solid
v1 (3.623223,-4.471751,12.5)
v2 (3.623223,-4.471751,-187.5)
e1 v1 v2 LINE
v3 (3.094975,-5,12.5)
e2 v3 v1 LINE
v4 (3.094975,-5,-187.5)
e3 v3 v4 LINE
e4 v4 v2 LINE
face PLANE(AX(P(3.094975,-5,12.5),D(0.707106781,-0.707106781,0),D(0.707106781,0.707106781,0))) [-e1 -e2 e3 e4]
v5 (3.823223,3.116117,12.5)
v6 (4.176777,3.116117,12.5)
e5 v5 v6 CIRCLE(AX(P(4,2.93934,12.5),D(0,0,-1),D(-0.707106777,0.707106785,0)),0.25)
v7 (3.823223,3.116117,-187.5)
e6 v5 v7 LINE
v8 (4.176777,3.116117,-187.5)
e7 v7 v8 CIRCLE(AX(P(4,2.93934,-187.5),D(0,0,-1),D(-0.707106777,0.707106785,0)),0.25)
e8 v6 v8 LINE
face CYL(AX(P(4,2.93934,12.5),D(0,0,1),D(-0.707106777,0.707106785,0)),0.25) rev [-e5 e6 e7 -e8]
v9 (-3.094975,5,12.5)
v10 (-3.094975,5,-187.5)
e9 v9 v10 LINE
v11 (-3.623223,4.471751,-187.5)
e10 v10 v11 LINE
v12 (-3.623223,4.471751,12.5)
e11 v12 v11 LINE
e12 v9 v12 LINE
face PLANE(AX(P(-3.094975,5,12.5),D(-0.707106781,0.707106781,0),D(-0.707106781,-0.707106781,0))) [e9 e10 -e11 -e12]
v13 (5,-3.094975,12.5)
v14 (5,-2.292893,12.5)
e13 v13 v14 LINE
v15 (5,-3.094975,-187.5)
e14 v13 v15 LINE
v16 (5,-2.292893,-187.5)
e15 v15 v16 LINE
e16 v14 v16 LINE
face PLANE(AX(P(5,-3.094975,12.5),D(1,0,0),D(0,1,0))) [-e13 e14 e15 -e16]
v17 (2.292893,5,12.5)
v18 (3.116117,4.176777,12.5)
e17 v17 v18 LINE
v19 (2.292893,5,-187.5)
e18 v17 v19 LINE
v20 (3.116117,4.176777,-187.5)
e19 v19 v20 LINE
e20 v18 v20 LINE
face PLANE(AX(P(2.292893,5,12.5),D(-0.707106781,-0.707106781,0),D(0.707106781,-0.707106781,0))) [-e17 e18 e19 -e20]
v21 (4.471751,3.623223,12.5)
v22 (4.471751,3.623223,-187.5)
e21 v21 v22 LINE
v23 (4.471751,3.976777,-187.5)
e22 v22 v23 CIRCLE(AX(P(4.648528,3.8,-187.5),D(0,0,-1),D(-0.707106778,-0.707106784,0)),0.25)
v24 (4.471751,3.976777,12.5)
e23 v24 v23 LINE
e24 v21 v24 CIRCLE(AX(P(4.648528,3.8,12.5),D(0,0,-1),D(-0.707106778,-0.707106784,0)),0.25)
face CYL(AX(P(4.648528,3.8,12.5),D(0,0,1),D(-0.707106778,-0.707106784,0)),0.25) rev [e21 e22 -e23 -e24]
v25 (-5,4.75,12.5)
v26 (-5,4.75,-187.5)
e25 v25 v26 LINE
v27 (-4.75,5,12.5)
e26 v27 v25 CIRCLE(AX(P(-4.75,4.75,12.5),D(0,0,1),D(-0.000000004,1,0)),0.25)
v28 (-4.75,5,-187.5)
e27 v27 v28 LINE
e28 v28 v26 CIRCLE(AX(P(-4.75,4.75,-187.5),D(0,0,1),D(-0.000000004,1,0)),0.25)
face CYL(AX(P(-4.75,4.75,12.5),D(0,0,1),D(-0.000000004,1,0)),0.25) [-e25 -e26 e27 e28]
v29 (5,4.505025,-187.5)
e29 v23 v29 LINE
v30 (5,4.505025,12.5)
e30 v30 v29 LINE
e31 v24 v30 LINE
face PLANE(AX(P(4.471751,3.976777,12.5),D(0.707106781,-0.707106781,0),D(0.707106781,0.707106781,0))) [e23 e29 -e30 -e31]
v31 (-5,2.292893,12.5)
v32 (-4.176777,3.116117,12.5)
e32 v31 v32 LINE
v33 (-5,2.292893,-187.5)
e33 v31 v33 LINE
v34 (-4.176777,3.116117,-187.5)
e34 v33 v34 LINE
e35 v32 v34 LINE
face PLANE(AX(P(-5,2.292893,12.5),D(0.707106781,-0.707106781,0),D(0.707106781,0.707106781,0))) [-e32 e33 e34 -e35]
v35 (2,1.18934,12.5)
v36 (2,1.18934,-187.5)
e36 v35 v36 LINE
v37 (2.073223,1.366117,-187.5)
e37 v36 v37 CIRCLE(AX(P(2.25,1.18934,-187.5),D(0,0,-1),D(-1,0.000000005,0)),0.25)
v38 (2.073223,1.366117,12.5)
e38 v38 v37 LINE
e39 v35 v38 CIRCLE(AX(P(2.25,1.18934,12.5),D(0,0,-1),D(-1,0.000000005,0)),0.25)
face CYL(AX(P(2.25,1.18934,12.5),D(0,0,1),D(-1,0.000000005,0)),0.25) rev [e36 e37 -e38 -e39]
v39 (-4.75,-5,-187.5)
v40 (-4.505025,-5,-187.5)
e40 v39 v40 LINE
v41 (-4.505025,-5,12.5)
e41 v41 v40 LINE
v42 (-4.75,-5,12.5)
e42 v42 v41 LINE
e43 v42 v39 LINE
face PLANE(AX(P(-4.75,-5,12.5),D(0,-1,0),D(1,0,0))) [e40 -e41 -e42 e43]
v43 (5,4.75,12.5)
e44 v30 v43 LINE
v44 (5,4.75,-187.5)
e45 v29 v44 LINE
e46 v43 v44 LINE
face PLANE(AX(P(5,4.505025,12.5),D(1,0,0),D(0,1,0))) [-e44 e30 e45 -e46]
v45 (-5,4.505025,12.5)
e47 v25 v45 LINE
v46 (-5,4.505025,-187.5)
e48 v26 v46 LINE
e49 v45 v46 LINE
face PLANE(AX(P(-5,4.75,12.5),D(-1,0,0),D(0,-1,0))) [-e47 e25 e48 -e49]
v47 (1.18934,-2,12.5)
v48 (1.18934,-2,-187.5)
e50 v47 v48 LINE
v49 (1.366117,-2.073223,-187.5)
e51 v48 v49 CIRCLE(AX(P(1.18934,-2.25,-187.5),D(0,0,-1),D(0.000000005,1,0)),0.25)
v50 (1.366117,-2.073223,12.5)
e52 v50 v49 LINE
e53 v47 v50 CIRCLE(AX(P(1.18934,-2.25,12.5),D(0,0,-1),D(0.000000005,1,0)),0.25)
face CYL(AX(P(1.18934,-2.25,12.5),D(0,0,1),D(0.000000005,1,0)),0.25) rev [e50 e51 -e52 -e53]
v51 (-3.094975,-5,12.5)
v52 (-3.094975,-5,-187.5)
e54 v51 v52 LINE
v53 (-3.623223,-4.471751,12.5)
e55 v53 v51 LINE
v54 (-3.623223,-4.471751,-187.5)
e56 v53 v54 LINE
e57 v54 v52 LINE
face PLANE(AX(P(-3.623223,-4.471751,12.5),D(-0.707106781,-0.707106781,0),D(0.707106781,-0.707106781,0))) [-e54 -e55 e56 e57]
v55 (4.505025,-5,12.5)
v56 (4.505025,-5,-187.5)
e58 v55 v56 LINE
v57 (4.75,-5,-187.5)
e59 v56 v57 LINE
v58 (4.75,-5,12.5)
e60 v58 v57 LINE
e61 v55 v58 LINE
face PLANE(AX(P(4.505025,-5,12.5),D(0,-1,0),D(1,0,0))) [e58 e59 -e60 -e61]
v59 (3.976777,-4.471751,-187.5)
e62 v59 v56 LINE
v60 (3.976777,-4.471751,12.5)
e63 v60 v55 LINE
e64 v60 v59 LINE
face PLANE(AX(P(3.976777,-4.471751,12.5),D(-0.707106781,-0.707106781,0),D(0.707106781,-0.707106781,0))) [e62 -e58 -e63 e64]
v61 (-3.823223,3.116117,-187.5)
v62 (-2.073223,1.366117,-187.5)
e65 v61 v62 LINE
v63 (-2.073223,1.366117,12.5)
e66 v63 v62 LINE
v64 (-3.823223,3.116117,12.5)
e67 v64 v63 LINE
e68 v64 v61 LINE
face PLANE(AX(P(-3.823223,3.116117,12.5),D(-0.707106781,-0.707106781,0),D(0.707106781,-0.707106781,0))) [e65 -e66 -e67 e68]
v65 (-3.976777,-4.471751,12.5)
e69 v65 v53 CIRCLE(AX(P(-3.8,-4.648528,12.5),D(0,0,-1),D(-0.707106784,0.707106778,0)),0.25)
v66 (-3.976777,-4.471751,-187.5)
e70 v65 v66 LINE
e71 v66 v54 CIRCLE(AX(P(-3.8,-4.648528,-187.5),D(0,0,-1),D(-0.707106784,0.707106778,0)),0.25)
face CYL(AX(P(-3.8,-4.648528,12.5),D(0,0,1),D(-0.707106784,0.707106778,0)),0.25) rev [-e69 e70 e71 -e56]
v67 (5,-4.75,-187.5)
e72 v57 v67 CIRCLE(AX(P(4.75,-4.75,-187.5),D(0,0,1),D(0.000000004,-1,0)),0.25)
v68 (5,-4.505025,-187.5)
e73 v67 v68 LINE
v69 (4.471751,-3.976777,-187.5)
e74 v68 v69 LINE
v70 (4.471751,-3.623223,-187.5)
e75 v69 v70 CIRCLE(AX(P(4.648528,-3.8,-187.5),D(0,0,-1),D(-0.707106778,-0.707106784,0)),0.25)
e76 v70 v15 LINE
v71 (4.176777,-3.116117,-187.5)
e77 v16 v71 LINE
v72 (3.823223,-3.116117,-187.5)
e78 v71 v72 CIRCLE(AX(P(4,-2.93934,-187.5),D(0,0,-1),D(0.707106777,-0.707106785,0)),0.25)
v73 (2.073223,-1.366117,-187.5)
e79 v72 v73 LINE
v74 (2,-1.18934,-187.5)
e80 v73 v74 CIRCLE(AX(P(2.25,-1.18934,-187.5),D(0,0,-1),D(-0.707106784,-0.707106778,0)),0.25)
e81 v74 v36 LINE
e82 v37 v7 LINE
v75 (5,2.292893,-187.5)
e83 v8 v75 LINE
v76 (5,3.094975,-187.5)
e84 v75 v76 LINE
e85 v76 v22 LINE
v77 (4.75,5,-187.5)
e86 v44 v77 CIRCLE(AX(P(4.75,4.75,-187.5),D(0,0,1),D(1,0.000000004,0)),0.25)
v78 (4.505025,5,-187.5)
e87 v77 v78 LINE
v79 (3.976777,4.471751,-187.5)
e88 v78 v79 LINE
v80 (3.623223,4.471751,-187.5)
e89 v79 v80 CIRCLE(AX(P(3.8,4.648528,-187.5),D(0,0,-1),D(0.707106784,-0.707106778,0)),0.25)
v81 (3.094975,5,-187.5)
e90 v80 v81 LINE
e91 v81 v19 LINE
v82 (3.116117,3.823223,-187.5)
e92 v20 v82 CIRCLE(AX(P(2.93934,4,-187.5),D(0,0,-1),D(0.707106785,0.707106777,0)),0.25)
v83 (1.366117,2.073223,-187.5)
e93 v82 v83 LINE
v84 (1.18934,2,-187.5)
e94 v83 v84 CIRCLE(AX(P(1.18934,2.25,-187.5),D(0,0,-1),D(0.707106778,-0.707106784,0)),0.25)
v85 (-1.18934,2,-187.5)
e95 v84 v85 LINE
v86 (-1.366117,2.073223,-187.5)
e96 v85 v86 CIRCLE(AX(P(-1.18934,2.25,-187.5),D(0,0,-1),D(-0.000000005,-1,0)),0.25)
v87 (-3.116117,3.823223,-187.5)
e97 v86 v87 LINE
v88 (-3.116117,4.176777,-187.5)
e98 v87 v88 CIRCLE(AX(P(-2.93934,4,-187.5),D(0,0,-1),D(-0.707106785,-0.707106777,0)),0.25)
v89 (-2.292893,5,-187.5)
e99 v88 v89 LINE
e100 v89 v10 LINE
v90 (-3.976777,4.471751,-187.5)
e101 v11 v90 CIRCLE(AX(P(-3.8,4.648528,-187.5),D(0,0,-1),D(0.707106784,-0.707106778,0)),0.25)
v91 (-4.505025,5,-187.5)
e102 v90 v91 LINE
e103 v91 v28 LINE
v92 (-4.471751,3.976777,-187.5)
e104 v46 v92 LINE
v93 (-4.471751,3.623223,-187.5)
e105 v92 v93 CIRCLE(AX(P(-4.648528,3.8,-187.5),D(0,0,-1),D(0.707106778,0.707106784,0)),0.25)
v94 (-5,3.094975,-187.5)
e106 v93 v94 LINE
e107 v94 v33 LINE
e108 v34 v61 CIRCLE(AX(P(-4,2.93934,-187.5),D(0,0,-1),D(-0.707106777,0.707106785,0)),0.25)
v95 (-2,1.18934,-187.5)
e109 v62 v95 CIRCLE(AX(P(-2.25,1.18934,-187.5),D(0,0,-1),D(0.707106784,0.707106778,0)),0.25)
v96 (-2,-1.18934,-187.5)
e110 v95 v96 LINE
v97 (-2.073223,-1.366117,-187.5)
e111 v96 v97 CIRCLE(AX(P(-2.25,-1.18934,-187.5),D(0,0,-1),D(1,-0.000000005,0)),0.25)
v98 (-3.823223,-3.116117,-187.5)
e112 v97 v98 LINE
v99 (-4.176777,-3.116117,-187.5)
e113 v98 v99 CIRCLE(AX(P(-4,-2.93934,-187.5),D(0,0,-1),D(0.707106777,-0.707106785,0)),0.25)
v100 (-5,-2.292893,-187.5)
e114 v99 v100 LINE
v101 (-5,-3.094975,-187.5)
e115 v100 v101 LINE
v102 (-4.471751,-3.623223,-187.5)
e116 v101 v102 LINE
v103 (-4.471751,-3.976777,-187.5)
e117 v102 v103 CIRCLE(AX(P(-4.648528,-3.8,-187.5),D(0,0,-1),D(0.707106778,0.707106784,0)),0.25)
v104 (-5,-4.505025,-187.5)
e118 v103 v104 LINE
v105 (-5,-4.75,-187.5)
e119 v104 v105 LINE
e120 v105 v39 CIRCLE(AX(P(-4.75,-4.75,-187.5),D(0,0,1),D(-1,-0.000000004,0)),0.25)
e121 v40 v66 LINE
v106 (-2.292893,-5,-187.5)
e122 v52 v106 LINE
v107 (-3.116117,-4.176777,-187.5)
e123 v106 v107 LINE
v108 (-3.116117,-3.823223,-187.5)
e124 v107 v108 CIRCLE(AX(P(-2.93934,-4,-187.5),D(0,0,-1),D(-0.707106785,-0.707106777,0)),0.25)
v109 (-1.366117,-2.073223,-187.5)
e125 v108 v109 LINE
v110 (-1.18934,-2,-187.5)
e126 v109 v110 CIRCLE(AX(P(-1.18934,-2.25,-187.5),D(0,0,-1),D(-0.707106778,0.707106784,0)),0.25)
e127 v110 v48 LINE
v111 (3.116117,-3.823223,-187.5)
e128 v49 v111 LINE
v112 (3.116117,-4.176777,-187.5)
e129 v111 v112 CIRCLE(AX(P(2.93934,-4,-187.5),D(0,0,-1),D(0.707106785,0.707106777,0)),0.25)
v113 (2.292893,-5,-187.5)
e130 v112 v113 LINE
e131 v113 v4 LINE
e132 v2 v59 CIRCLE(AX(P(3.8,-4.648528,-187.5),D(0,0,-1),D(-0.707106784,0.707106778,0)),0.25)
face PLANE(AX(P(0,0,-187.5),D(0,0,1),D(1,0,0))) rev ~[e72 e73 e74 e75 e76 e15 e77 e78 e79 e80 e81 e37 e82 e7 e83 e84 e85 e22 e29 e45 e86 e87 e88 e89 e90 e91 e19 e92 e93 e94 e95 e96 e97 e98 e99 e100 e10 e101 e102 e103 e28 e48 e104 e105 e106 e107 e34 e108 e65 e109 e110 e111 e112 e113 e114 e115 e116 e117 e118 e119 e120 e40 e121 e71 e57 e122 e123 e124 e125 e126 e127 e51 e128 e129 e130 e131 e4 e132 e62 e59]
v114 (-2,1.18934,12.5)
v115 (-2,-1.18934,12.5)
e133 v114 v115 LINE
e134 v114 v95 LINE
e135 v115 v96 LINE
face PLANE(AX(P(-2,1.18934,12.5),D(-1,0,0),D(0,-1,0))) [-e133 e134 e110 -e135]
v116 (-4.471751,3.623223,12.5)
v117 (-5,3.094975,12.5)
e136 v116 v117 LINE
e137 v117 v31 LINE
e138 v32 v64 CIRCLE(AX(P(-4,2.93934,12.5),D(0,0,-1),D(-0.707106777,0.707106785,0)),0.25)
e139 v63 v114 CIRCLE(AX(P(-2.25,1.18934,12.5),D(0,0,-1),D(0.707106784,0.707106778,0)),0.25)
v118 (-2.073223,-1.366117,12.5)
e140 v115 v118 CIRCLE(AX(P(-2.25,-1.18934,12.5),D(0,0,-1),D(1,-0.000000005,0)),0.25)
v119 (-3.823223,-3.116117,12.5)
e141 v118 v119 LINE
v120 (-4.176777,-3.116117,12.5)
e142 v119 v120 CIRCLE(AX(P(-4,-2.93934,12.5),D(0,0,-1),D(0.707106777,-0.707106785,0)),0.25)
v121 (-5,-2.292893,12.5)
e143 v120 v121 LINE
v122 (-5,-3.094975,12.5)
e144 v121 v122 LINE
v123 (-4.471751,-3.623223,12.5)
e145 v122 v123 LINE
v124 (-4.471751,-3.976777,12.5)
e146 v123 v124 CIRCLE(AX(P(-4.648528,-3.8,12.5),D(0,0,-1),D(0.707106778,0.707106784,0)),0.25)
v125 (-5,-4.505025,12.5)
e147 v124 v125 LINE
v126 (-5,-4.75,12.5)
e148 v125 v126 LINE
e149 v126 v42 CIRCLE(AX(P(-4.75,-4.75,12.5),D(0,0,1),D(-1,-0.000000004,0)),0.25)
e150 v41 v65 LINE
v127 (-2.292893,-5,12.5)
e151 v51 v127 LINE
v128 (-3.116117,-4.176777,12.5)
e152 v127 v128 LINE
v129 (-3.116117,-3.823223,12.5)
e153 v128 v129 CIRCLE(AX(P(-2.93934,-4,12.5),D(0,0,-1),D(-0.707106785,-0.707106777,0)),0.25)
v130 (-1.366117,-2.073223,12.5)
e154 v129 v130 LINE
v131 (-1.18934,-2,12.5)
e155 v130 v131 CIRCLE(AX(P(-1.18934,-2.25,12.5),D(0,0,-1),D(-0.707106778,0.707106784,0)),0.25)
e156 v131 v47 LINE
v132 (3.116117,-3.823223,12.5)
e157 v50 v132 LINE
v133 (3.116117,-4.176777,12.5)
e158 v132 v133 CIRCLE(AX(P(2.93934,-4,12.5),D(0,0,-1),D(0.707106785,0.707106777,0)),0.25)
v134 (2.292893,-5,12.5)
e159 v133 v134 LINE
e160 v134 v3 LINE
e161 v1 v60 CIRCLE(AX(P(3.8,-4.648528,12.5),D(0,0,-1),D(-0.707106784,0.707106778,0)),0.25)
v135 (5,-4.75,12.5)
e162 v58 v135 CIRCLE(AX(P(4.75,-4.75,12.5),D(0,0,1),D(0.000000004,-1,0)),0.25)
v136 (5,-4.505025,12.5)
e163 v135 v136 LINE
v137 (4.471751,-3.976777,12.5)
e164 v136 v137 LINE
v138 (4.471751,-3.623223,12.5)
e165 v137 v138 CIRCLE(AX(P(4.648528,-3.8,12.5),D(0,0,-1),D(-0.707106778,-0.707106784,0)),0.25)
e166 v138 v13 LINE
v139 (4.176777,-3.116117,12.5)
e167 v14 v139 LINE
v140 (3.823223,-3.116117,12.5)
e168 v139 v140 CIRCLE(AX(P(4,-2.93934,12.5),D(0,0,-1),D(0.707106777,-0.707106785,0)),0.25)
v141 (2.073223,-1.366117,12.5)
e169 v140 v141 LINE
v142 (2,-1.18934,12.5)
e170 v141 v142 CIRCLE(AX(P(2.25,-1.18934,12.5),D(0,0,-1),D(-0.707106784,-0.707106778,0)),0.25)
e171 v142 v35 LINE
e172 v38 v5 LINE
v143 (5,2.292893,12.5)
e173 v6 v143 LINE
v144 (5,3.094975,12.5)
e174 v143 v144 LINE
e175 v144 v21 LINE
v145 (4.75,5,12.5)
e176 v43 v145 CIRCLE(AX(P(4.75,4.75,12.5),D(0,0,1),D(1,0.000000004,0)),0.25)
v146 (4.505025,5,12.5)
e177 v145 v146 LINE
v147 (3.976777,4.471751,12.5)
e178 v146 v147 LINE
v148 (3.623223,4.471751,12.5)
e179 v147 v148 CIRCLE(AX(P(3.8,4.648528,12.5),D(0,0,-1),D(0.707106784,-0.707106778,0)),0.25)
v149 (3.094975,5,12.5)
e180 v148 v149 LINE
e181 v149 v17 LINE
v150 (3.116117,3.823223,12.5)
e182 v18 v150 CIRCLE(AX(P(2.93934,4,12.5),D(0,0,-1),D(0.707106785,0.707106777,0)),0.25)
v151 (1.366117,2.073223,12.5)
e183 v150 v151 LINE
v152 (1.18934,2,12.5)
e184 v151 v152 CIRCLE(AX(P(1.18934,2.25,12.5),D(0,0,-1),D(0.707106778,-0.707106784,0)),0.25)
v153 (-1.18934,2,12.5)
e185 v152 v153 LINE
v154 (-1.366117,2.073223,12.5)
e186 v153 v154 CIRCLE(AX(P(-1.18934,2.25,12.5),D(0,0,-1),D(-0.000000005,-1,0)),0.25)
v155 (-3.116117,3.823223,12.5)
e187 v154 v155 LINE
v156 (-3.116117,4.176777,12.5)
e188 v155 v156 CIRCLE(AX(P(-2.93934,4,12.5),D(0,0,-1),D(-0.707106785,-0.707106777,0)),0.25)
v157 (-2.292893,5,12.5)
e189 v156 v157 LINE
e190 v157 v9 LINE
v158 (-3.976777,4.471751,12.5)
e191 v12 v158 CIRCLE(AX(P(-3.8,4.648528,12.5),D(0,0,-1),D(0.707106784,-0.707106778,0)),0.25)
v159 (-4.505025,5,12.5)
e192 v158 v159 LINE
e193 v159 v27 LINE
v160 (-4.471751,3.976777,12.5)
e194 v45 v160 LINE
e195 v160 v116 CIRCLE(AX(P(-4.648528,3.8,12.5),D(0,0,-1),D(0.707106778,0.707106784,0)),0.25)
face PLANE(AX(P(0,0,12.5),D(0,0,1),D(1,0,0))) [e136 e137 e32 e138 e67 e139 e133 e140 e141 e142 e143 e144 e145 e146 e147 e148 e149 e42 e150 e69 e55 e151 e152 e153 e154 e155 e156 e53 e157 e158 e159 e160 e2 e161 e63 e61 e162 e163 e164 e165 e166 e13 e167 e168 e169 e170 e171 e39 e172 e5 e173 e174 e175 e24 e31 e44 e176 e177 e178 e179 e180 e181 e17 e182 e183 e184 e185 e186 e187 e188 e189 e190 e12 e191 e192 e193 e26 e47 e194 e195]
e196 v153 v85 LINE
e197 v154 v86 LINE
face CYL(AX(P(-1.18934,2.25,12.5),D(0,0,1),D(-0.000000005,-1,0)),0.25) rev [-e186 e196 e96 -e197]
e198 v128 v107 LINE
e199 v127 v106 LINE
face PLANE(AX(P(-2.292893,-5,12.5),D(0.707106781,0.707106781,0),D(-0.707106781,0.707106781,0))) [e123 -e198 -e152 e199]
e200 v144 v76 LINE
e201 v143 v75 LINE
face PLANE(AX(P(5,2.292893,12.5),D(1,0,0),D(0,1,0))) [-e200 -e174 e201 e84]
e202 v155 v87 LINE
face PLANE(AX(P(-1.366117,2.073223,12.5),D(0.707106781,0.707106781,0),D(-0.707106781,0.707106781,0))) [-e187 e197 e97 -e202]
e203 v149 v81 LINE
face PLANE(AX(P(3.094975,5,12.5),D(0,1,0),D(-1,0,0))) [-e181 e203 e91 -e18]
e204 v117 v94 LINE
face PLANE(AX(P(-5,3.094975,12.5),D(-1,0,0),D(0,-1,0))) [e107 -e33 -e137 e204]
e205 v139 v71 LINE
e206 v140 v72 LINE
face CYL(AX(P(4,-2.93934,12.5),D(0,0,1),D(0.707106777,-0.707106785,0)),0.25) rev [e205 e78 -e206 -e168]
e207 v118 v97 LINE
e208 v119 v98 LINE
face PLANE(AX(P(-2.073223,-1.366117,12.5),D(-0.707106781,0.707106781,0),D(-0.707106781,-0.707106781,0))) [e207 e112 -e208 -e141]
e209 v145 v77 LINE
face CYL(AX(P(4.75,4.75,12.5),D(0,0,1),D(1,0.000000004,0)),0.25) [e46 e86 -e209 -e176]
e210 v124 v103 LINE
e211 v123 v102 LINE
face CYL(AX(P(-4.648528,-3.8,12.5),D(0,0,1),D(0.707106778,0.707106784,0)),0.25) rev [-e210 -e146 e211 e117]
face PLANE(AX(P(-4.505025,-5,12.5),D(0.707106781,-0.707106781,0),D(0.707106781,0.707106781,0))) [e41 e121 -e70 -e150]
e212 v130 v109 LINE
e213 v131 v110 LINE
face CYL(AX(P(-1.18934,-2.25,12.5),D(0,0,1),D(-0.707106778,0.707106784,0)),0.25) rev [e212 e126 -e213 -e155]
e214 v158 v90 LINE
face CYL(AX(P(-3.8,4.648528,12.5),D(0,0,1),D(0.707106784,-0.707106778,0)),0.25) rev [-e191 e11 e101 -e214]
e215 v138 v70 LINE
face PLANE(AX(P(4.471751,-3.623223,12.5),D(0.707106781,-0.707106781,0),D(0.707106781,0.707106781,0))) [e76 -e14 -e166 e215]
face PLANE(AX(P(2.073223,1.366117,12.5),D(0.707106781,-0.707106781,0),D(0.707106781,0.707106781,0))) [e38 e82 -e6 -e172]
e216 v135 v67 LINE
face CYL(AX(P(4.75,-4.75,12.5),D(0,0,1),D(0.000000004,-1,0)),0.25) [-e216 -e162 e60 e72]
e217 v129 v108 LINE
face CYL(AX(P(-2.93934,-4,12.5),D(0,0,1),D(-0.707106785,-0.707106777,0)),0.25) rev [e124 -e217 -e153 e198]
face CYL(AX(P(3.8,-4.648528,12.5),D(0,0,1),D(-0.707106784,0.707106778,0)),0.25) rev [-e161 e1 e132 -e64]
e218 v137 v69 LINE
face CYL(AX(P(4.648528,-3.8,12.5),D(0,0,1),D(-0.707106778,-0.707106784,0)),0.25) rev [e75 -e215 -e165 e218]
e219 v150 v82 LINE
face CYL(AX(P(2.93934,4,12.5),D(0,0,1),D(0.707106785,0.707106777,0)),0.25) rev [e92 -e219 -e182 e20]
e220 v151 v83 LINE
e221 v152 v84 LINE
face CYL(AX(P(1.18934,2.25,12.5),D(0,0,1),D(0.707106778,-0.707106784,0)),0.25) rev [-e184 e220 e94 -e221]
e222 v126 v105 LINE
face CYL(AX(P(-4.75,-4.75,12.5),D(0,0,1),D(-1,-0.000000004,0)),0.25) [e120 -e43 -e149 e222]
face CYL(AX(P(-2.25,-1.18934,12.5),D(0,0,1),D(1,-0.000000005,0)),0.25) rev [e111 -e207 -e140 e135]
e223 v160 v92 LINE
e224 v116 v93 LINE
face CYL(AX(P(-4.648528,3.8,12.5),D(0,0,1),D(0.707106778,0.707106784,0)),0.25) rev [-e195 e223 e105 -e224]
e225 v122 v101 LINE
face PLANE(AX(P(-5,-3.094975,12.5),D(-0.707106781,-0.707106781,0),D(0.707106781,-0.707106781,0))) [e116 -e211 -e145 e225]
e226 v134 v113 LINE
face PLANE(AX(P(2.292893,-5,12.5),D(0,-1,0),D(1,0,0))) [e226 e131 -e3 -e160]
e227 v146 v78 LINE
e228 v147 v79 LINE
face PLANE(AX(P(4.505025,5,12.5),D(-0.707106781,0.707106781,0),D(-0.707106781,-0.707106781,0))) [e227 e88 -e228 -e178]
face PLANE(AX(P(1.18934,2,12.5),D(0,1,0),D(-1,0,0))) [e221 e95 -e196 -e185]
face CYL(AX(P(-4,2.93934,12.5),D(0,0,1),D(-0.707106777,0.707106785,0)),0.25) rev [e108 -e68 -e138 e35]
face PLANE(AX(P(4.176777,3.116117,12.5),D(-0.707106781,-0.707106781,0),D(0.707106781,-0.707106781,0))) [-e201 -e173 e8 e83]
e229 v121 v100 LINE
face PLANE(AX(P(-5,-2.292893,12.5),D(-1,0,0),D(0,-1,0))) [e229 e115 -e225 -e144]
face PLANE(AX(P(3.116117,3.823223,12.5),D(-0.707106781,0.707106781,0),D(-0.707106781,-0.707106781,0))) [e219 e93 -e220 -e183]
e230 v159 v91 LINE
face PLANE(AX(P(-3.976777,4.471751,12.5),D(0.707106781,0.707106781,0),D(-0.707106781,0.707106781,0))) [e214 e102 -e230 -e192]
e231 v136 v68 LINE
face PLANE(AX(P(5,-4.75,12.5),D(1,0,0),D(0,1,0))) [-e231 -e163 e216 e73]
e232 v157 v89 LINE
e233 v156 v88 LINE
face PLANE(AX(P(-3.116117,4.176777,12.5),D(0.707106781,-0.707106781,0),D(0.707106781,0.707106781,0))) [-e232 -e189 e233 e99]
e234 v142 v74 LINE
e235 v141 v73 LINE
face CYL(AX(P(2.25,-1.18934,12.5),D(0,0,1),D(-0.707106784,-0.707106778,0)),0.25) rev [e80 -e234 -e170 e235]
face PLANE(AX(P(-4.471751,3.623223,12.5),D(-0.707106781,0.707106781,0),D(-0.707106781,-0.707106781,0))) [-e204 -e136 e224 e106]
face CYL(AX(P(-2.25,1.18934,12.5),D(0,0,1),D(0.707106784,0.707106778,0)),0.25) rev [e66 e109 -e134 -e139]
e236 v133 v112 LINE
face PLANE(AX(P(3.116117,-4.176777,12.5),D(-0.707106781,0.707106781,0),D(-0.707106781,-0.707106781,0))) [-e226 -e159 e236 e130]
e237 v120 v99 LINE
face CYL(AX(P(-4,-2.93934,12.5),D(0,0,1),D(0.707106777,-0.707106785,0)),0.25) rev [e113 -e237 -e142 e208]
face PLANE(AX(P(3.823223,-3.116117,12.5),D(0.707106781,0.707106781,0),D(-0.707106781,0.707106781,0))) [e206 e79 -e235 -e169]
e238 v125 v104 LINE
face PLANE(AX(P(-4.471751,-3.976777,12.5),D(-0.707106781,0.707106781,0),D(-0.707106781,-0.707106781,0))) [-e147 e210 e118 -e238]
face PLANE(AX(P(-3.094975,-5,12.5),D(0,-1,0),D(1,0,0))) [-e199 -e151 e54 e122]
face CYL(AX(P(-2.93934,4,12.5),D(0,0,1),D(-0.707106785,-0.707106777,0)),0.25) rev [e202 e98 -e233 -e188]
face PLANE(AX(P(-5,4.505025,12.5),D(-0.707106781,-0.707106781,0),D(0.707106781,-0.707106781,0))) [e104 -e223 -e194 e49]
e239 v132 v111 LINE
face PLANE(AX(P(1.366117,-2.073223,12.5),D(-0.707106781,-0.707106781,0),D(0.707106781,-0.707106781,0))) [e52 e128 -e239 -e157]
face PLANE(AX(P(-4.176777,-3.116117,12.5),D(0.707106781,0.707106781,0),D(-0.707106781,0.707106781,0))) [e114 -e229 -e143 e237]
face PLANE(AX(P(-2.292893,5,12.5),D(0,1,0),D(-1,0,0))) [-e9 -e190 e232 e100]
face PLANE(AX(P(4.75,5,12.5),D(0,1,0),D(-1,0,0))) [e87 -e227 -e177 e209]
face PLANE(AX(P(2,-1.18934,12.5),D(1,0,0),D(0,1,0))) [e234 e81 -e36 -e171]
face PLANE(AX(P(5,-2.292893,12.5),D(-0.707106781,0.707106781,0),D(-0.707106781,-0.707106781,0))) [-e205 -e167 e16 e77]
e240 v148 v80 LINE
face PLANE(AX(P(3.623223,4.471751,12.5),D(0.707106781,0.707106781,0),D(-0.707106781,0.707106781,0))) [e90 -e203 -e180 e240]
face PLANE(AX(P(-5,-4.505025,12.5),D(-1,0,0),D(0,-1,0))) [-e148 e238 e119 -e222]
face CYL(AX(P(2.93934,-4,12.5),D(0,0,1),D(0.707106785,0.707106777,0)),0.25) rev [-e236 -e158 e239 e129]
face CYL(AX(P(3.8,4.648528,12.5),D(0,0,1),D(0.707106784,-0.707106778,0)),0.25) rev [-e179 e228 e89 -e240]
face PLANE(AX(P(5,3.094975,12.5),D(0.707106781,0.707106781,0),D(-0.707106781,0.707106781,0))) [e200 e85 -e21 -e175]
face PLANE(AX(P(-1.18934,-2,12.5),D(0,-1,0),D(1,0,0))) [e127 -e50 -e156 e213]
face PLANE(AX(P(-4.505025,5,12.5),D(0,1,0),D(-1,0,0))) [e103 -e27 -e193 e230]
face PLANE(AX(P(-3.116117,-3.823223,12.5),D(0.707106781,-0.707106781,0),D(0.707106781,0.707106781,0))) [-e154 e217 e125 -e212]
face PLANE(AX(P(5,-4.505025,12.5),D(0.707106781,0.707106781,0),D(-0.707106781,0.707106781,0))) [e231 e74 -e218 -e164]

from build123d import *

# Parameters (mm, degrees)
BOSS_EXTRUDE1_DEPTH = 200


with BuildPart() as part:
    # Sketch1 → Boss-Extrude1 (new body)
    with BuildSketch(Plane.XY.offset(12.5)):
        with BuildLine():
            Line((1.189339828, 2), (-1.189339828, 2))
            ThreePointArc((-1.189339828, 2), (-1.285010686, 2.019030117), (-1.366116524, 2.073223305))
            Line((-1.366116524, 2.073223305), (-3.116116524, 3.823223305))
            ThreePointArc((-3.116116524, 3.823223305), (-3.189339828, 4), (-3.116116524, 4.176776695))
            Line((-3.116116524, 4.176776695), (-2.292893219, 5))
            Line((-2.292893219, 5), (-3.094974747, 5))
            Line((-3.094974747, 5), (-3.623223305, 4.471751442))
            ThreePointArc((-3.623223305, 4.471751442), (-3.8, 4.398528137), (-3.976776695, 4.471751442))
            Line((-3.976776695, 4.471751442), (-4.505025253, 5))
            Line((-4.505025253, 5), (-4.75, 5))
            ThreePointArc((-4.75, 5), (-4.926776695, 4.926776695), (-5, 4.75))
            Line((-5, 4.75), (-5, 4.505025253))
            Line((-5, 4.505025253), (-4.471751442, 3.976776695))
            ThreePointArc((-4.471751442, 3.976776695), (-4.398528137, 3.8), (-4.471751442, 3.623223305))
            Line((-4.471751442, 3.623223305), (-5, 3.094974747))
            Line((-5, 3.094974747), (-5, 2.292893219))
            Line((-5, 2.292893219), (-4.176776695, 3.116116524))
            ThreePointArc((-4.176776695, 3.116116524), (-4, 3.189339828), (-3.823223305, 3.116116524))
            Line((-3.823223305, 3.116116524), (-2.073223305, 1.366116524))
            ThreePointArc((-2.073223305, 1.366116524), (-2.019030117, 1.285010686), (-2, 1.189339828))
            Line((-2, 1.189339828), (-2, -1.189339828))
            ThreePointArc((-2, -1.189339828), (-2.019030117, -1.285010686), (-2.073223305, -1.366116524))
            Line((-2.073223305, -1.366116524), (-3.823223305, -3.116116524))
            ThreePointArc((-3.823223305, -3.116116524), (-4, -3.189339828), (-4.176776695, -3.116116524))
            Line((-4.176776695, -3.116116524), (-5, -2.292893219))
            Line((-5, -2.292893219), (-5, -3.094974747))
            Line((-5, -3.094974747), (-4.471751442, -3.623223305))
            ThreePointArc((-4.471751442, -3.623223305), (-4.398528137, -3.8), (-4.471751442, -3.976776695))
            Line((-4.471751442, -3.976776695), (-5, -4.505025253))
            Line((-5, -4.505025253), (-5, -4.75))
            ThreePointArc((-5, -4.75), (-4.926776695, -4.926776695), (-4.75, -5))
            Line((-4.75, -5), (-4.505025253, -5))
            Line((-4.505025253, -5), (-3.976776695, -4.471751442))
            ThreePointArc((-3.976776695, -4.471751442), (-3.8, -4.398528137), (-3.623223305, -4.471751442))
            Line((-3.623223305, -4.471751442), (-3.094974747, -5))
            Line((-3.094974747, -5), (-2.292893219, -5))
            Line((-2.292893219, -5), (-3.116116524, -4.176776695))
            ThreePointArc((-3.116116524, -4.176776695), (-3.189339828, -4), (-3.116116524, -3.823223305))
            Line((-3.116116524, -3.823223305), (-1.366116524, -2.073223305))
            ThreePointArc((-1.366116524, -2.073223305), (-1.285010686, -2.019030117), (-1.189339828, -2))
            Line((-1.189339828, -2), (1.189339828, -2))
            ThreePointArc((1.189339828, -2), (1.285010686, -2.019030117), (1.366116524, -2.073223305))
            Line((1.366116524, -2.073223305), (3.116116524, -3.823223305))
            ThreePointArc((3.116116524, -3.823223305), (3.189339828, -4), (3.116116524, -4.176776695))
            Line((3.116116524, -4.176776695), (2.292893219, -5))
            Line((2.292893219, -5), (3.094974747, -5))
            Line((3.094974747, -5), (3.623223305, -4.471751442))
            ThreePointArc((3.623223305, -4.471751442), (3.8, -4.398528137), (3.976776695, -4.471751442))
            Line((3.976776695, -4.471751442), (4.505025253, -5))
            Line((4.505025253, -5), (4.75, -5))
            ThreePointArc((4.75, -5), (4.926776695, -4.926776695), (5, -4.75))
            Line((5, -4.75), (5, -4.505025253))
            Line((5, -4.505025253), (4.471751442, -3.976776695))
            ThreePointArc((4.471751442, -3.976776695), (4.398528137, -3.8), (4.471751442, -3.623223305))
            Line((4.471751442, -3.623223305), (5, -3.094974747))
            Line((5, -3.094974747), (5, -2.292893219))
            Line((5, -2.292893219), (4.176776695, -3.116116524))
            ThreePointArc((4.176776695, -3.116116524), (4, -3.189339828), (3.823223305, -3.116116524))
            Line((3.823223305, -3.116116524), (2.073223305, -1.366116524))
            ThreePointArc((2.073223305, -1.366116524), (2.019030117, -1.285010686), (2, -1.189339828))
            Line((2, -1.189339828), (2, 1.189339828))
            ThreePointArc((2, 1.189339828), (2.019030117, 1.285010686), (2.073223305, 1.366116524))
            Line((2.073223305, 1.366116524), (3.823223305, 3.116116524))
            ThreePointArc((3.823223305, 3.116116524), (4, 3.189339828), (4.176776695, 3.116116524))
            Line((4.176776695, 3.116116524), (5, 2.292893219))
            Line((5, 2.292893219), (5, 3.094974747))
            Line((5, 3.094974747), (4.471751442, 3.623223305))
            ThreePointArc((4.471751442, 3.623223305), (4.398528137, 3.8), (4.471751442, 3.976776695))
            Line((4.471751442, 3.976776695), (5, 4.505025253))
            Line((5, 4.505025253), (5, 4.75))
            ThreePointArc((5, 4.75), (4.926776695, 4.926776695), (4.75, 5))
            Line((4.75, 5), (4.505025253, 5))
            Line((4.505025253, 5), (3.976776695, 4.471751442))
            ThreePointArc((3.976776695, 4.471751442), (3.8, 4.398528137), (3.623223305, 4.471751442))
            Line((3.623223305, 4.471751442), (3.094974747, 5))
            Line((3.094974747, 5), (2.292893219, 5))
            Line((2.292893219, 5), (3.116116524, 4.176776695))
            ThreePointArc((3.116116524, 4.176776695), (3.189339828, 4), (3.116116524, 3.823223305))
            Line((3.116116524, 3.823223305), (1.366116524, 2.073223305))
            ThreePointArc((1.366116524, 2.073223305), (1.285010686, 2.019030117), (1.189339828, 2))
        make_face()
    extrude(amount=-BOSS_EXTRUDE1_DEPTH)


solid = part.part
